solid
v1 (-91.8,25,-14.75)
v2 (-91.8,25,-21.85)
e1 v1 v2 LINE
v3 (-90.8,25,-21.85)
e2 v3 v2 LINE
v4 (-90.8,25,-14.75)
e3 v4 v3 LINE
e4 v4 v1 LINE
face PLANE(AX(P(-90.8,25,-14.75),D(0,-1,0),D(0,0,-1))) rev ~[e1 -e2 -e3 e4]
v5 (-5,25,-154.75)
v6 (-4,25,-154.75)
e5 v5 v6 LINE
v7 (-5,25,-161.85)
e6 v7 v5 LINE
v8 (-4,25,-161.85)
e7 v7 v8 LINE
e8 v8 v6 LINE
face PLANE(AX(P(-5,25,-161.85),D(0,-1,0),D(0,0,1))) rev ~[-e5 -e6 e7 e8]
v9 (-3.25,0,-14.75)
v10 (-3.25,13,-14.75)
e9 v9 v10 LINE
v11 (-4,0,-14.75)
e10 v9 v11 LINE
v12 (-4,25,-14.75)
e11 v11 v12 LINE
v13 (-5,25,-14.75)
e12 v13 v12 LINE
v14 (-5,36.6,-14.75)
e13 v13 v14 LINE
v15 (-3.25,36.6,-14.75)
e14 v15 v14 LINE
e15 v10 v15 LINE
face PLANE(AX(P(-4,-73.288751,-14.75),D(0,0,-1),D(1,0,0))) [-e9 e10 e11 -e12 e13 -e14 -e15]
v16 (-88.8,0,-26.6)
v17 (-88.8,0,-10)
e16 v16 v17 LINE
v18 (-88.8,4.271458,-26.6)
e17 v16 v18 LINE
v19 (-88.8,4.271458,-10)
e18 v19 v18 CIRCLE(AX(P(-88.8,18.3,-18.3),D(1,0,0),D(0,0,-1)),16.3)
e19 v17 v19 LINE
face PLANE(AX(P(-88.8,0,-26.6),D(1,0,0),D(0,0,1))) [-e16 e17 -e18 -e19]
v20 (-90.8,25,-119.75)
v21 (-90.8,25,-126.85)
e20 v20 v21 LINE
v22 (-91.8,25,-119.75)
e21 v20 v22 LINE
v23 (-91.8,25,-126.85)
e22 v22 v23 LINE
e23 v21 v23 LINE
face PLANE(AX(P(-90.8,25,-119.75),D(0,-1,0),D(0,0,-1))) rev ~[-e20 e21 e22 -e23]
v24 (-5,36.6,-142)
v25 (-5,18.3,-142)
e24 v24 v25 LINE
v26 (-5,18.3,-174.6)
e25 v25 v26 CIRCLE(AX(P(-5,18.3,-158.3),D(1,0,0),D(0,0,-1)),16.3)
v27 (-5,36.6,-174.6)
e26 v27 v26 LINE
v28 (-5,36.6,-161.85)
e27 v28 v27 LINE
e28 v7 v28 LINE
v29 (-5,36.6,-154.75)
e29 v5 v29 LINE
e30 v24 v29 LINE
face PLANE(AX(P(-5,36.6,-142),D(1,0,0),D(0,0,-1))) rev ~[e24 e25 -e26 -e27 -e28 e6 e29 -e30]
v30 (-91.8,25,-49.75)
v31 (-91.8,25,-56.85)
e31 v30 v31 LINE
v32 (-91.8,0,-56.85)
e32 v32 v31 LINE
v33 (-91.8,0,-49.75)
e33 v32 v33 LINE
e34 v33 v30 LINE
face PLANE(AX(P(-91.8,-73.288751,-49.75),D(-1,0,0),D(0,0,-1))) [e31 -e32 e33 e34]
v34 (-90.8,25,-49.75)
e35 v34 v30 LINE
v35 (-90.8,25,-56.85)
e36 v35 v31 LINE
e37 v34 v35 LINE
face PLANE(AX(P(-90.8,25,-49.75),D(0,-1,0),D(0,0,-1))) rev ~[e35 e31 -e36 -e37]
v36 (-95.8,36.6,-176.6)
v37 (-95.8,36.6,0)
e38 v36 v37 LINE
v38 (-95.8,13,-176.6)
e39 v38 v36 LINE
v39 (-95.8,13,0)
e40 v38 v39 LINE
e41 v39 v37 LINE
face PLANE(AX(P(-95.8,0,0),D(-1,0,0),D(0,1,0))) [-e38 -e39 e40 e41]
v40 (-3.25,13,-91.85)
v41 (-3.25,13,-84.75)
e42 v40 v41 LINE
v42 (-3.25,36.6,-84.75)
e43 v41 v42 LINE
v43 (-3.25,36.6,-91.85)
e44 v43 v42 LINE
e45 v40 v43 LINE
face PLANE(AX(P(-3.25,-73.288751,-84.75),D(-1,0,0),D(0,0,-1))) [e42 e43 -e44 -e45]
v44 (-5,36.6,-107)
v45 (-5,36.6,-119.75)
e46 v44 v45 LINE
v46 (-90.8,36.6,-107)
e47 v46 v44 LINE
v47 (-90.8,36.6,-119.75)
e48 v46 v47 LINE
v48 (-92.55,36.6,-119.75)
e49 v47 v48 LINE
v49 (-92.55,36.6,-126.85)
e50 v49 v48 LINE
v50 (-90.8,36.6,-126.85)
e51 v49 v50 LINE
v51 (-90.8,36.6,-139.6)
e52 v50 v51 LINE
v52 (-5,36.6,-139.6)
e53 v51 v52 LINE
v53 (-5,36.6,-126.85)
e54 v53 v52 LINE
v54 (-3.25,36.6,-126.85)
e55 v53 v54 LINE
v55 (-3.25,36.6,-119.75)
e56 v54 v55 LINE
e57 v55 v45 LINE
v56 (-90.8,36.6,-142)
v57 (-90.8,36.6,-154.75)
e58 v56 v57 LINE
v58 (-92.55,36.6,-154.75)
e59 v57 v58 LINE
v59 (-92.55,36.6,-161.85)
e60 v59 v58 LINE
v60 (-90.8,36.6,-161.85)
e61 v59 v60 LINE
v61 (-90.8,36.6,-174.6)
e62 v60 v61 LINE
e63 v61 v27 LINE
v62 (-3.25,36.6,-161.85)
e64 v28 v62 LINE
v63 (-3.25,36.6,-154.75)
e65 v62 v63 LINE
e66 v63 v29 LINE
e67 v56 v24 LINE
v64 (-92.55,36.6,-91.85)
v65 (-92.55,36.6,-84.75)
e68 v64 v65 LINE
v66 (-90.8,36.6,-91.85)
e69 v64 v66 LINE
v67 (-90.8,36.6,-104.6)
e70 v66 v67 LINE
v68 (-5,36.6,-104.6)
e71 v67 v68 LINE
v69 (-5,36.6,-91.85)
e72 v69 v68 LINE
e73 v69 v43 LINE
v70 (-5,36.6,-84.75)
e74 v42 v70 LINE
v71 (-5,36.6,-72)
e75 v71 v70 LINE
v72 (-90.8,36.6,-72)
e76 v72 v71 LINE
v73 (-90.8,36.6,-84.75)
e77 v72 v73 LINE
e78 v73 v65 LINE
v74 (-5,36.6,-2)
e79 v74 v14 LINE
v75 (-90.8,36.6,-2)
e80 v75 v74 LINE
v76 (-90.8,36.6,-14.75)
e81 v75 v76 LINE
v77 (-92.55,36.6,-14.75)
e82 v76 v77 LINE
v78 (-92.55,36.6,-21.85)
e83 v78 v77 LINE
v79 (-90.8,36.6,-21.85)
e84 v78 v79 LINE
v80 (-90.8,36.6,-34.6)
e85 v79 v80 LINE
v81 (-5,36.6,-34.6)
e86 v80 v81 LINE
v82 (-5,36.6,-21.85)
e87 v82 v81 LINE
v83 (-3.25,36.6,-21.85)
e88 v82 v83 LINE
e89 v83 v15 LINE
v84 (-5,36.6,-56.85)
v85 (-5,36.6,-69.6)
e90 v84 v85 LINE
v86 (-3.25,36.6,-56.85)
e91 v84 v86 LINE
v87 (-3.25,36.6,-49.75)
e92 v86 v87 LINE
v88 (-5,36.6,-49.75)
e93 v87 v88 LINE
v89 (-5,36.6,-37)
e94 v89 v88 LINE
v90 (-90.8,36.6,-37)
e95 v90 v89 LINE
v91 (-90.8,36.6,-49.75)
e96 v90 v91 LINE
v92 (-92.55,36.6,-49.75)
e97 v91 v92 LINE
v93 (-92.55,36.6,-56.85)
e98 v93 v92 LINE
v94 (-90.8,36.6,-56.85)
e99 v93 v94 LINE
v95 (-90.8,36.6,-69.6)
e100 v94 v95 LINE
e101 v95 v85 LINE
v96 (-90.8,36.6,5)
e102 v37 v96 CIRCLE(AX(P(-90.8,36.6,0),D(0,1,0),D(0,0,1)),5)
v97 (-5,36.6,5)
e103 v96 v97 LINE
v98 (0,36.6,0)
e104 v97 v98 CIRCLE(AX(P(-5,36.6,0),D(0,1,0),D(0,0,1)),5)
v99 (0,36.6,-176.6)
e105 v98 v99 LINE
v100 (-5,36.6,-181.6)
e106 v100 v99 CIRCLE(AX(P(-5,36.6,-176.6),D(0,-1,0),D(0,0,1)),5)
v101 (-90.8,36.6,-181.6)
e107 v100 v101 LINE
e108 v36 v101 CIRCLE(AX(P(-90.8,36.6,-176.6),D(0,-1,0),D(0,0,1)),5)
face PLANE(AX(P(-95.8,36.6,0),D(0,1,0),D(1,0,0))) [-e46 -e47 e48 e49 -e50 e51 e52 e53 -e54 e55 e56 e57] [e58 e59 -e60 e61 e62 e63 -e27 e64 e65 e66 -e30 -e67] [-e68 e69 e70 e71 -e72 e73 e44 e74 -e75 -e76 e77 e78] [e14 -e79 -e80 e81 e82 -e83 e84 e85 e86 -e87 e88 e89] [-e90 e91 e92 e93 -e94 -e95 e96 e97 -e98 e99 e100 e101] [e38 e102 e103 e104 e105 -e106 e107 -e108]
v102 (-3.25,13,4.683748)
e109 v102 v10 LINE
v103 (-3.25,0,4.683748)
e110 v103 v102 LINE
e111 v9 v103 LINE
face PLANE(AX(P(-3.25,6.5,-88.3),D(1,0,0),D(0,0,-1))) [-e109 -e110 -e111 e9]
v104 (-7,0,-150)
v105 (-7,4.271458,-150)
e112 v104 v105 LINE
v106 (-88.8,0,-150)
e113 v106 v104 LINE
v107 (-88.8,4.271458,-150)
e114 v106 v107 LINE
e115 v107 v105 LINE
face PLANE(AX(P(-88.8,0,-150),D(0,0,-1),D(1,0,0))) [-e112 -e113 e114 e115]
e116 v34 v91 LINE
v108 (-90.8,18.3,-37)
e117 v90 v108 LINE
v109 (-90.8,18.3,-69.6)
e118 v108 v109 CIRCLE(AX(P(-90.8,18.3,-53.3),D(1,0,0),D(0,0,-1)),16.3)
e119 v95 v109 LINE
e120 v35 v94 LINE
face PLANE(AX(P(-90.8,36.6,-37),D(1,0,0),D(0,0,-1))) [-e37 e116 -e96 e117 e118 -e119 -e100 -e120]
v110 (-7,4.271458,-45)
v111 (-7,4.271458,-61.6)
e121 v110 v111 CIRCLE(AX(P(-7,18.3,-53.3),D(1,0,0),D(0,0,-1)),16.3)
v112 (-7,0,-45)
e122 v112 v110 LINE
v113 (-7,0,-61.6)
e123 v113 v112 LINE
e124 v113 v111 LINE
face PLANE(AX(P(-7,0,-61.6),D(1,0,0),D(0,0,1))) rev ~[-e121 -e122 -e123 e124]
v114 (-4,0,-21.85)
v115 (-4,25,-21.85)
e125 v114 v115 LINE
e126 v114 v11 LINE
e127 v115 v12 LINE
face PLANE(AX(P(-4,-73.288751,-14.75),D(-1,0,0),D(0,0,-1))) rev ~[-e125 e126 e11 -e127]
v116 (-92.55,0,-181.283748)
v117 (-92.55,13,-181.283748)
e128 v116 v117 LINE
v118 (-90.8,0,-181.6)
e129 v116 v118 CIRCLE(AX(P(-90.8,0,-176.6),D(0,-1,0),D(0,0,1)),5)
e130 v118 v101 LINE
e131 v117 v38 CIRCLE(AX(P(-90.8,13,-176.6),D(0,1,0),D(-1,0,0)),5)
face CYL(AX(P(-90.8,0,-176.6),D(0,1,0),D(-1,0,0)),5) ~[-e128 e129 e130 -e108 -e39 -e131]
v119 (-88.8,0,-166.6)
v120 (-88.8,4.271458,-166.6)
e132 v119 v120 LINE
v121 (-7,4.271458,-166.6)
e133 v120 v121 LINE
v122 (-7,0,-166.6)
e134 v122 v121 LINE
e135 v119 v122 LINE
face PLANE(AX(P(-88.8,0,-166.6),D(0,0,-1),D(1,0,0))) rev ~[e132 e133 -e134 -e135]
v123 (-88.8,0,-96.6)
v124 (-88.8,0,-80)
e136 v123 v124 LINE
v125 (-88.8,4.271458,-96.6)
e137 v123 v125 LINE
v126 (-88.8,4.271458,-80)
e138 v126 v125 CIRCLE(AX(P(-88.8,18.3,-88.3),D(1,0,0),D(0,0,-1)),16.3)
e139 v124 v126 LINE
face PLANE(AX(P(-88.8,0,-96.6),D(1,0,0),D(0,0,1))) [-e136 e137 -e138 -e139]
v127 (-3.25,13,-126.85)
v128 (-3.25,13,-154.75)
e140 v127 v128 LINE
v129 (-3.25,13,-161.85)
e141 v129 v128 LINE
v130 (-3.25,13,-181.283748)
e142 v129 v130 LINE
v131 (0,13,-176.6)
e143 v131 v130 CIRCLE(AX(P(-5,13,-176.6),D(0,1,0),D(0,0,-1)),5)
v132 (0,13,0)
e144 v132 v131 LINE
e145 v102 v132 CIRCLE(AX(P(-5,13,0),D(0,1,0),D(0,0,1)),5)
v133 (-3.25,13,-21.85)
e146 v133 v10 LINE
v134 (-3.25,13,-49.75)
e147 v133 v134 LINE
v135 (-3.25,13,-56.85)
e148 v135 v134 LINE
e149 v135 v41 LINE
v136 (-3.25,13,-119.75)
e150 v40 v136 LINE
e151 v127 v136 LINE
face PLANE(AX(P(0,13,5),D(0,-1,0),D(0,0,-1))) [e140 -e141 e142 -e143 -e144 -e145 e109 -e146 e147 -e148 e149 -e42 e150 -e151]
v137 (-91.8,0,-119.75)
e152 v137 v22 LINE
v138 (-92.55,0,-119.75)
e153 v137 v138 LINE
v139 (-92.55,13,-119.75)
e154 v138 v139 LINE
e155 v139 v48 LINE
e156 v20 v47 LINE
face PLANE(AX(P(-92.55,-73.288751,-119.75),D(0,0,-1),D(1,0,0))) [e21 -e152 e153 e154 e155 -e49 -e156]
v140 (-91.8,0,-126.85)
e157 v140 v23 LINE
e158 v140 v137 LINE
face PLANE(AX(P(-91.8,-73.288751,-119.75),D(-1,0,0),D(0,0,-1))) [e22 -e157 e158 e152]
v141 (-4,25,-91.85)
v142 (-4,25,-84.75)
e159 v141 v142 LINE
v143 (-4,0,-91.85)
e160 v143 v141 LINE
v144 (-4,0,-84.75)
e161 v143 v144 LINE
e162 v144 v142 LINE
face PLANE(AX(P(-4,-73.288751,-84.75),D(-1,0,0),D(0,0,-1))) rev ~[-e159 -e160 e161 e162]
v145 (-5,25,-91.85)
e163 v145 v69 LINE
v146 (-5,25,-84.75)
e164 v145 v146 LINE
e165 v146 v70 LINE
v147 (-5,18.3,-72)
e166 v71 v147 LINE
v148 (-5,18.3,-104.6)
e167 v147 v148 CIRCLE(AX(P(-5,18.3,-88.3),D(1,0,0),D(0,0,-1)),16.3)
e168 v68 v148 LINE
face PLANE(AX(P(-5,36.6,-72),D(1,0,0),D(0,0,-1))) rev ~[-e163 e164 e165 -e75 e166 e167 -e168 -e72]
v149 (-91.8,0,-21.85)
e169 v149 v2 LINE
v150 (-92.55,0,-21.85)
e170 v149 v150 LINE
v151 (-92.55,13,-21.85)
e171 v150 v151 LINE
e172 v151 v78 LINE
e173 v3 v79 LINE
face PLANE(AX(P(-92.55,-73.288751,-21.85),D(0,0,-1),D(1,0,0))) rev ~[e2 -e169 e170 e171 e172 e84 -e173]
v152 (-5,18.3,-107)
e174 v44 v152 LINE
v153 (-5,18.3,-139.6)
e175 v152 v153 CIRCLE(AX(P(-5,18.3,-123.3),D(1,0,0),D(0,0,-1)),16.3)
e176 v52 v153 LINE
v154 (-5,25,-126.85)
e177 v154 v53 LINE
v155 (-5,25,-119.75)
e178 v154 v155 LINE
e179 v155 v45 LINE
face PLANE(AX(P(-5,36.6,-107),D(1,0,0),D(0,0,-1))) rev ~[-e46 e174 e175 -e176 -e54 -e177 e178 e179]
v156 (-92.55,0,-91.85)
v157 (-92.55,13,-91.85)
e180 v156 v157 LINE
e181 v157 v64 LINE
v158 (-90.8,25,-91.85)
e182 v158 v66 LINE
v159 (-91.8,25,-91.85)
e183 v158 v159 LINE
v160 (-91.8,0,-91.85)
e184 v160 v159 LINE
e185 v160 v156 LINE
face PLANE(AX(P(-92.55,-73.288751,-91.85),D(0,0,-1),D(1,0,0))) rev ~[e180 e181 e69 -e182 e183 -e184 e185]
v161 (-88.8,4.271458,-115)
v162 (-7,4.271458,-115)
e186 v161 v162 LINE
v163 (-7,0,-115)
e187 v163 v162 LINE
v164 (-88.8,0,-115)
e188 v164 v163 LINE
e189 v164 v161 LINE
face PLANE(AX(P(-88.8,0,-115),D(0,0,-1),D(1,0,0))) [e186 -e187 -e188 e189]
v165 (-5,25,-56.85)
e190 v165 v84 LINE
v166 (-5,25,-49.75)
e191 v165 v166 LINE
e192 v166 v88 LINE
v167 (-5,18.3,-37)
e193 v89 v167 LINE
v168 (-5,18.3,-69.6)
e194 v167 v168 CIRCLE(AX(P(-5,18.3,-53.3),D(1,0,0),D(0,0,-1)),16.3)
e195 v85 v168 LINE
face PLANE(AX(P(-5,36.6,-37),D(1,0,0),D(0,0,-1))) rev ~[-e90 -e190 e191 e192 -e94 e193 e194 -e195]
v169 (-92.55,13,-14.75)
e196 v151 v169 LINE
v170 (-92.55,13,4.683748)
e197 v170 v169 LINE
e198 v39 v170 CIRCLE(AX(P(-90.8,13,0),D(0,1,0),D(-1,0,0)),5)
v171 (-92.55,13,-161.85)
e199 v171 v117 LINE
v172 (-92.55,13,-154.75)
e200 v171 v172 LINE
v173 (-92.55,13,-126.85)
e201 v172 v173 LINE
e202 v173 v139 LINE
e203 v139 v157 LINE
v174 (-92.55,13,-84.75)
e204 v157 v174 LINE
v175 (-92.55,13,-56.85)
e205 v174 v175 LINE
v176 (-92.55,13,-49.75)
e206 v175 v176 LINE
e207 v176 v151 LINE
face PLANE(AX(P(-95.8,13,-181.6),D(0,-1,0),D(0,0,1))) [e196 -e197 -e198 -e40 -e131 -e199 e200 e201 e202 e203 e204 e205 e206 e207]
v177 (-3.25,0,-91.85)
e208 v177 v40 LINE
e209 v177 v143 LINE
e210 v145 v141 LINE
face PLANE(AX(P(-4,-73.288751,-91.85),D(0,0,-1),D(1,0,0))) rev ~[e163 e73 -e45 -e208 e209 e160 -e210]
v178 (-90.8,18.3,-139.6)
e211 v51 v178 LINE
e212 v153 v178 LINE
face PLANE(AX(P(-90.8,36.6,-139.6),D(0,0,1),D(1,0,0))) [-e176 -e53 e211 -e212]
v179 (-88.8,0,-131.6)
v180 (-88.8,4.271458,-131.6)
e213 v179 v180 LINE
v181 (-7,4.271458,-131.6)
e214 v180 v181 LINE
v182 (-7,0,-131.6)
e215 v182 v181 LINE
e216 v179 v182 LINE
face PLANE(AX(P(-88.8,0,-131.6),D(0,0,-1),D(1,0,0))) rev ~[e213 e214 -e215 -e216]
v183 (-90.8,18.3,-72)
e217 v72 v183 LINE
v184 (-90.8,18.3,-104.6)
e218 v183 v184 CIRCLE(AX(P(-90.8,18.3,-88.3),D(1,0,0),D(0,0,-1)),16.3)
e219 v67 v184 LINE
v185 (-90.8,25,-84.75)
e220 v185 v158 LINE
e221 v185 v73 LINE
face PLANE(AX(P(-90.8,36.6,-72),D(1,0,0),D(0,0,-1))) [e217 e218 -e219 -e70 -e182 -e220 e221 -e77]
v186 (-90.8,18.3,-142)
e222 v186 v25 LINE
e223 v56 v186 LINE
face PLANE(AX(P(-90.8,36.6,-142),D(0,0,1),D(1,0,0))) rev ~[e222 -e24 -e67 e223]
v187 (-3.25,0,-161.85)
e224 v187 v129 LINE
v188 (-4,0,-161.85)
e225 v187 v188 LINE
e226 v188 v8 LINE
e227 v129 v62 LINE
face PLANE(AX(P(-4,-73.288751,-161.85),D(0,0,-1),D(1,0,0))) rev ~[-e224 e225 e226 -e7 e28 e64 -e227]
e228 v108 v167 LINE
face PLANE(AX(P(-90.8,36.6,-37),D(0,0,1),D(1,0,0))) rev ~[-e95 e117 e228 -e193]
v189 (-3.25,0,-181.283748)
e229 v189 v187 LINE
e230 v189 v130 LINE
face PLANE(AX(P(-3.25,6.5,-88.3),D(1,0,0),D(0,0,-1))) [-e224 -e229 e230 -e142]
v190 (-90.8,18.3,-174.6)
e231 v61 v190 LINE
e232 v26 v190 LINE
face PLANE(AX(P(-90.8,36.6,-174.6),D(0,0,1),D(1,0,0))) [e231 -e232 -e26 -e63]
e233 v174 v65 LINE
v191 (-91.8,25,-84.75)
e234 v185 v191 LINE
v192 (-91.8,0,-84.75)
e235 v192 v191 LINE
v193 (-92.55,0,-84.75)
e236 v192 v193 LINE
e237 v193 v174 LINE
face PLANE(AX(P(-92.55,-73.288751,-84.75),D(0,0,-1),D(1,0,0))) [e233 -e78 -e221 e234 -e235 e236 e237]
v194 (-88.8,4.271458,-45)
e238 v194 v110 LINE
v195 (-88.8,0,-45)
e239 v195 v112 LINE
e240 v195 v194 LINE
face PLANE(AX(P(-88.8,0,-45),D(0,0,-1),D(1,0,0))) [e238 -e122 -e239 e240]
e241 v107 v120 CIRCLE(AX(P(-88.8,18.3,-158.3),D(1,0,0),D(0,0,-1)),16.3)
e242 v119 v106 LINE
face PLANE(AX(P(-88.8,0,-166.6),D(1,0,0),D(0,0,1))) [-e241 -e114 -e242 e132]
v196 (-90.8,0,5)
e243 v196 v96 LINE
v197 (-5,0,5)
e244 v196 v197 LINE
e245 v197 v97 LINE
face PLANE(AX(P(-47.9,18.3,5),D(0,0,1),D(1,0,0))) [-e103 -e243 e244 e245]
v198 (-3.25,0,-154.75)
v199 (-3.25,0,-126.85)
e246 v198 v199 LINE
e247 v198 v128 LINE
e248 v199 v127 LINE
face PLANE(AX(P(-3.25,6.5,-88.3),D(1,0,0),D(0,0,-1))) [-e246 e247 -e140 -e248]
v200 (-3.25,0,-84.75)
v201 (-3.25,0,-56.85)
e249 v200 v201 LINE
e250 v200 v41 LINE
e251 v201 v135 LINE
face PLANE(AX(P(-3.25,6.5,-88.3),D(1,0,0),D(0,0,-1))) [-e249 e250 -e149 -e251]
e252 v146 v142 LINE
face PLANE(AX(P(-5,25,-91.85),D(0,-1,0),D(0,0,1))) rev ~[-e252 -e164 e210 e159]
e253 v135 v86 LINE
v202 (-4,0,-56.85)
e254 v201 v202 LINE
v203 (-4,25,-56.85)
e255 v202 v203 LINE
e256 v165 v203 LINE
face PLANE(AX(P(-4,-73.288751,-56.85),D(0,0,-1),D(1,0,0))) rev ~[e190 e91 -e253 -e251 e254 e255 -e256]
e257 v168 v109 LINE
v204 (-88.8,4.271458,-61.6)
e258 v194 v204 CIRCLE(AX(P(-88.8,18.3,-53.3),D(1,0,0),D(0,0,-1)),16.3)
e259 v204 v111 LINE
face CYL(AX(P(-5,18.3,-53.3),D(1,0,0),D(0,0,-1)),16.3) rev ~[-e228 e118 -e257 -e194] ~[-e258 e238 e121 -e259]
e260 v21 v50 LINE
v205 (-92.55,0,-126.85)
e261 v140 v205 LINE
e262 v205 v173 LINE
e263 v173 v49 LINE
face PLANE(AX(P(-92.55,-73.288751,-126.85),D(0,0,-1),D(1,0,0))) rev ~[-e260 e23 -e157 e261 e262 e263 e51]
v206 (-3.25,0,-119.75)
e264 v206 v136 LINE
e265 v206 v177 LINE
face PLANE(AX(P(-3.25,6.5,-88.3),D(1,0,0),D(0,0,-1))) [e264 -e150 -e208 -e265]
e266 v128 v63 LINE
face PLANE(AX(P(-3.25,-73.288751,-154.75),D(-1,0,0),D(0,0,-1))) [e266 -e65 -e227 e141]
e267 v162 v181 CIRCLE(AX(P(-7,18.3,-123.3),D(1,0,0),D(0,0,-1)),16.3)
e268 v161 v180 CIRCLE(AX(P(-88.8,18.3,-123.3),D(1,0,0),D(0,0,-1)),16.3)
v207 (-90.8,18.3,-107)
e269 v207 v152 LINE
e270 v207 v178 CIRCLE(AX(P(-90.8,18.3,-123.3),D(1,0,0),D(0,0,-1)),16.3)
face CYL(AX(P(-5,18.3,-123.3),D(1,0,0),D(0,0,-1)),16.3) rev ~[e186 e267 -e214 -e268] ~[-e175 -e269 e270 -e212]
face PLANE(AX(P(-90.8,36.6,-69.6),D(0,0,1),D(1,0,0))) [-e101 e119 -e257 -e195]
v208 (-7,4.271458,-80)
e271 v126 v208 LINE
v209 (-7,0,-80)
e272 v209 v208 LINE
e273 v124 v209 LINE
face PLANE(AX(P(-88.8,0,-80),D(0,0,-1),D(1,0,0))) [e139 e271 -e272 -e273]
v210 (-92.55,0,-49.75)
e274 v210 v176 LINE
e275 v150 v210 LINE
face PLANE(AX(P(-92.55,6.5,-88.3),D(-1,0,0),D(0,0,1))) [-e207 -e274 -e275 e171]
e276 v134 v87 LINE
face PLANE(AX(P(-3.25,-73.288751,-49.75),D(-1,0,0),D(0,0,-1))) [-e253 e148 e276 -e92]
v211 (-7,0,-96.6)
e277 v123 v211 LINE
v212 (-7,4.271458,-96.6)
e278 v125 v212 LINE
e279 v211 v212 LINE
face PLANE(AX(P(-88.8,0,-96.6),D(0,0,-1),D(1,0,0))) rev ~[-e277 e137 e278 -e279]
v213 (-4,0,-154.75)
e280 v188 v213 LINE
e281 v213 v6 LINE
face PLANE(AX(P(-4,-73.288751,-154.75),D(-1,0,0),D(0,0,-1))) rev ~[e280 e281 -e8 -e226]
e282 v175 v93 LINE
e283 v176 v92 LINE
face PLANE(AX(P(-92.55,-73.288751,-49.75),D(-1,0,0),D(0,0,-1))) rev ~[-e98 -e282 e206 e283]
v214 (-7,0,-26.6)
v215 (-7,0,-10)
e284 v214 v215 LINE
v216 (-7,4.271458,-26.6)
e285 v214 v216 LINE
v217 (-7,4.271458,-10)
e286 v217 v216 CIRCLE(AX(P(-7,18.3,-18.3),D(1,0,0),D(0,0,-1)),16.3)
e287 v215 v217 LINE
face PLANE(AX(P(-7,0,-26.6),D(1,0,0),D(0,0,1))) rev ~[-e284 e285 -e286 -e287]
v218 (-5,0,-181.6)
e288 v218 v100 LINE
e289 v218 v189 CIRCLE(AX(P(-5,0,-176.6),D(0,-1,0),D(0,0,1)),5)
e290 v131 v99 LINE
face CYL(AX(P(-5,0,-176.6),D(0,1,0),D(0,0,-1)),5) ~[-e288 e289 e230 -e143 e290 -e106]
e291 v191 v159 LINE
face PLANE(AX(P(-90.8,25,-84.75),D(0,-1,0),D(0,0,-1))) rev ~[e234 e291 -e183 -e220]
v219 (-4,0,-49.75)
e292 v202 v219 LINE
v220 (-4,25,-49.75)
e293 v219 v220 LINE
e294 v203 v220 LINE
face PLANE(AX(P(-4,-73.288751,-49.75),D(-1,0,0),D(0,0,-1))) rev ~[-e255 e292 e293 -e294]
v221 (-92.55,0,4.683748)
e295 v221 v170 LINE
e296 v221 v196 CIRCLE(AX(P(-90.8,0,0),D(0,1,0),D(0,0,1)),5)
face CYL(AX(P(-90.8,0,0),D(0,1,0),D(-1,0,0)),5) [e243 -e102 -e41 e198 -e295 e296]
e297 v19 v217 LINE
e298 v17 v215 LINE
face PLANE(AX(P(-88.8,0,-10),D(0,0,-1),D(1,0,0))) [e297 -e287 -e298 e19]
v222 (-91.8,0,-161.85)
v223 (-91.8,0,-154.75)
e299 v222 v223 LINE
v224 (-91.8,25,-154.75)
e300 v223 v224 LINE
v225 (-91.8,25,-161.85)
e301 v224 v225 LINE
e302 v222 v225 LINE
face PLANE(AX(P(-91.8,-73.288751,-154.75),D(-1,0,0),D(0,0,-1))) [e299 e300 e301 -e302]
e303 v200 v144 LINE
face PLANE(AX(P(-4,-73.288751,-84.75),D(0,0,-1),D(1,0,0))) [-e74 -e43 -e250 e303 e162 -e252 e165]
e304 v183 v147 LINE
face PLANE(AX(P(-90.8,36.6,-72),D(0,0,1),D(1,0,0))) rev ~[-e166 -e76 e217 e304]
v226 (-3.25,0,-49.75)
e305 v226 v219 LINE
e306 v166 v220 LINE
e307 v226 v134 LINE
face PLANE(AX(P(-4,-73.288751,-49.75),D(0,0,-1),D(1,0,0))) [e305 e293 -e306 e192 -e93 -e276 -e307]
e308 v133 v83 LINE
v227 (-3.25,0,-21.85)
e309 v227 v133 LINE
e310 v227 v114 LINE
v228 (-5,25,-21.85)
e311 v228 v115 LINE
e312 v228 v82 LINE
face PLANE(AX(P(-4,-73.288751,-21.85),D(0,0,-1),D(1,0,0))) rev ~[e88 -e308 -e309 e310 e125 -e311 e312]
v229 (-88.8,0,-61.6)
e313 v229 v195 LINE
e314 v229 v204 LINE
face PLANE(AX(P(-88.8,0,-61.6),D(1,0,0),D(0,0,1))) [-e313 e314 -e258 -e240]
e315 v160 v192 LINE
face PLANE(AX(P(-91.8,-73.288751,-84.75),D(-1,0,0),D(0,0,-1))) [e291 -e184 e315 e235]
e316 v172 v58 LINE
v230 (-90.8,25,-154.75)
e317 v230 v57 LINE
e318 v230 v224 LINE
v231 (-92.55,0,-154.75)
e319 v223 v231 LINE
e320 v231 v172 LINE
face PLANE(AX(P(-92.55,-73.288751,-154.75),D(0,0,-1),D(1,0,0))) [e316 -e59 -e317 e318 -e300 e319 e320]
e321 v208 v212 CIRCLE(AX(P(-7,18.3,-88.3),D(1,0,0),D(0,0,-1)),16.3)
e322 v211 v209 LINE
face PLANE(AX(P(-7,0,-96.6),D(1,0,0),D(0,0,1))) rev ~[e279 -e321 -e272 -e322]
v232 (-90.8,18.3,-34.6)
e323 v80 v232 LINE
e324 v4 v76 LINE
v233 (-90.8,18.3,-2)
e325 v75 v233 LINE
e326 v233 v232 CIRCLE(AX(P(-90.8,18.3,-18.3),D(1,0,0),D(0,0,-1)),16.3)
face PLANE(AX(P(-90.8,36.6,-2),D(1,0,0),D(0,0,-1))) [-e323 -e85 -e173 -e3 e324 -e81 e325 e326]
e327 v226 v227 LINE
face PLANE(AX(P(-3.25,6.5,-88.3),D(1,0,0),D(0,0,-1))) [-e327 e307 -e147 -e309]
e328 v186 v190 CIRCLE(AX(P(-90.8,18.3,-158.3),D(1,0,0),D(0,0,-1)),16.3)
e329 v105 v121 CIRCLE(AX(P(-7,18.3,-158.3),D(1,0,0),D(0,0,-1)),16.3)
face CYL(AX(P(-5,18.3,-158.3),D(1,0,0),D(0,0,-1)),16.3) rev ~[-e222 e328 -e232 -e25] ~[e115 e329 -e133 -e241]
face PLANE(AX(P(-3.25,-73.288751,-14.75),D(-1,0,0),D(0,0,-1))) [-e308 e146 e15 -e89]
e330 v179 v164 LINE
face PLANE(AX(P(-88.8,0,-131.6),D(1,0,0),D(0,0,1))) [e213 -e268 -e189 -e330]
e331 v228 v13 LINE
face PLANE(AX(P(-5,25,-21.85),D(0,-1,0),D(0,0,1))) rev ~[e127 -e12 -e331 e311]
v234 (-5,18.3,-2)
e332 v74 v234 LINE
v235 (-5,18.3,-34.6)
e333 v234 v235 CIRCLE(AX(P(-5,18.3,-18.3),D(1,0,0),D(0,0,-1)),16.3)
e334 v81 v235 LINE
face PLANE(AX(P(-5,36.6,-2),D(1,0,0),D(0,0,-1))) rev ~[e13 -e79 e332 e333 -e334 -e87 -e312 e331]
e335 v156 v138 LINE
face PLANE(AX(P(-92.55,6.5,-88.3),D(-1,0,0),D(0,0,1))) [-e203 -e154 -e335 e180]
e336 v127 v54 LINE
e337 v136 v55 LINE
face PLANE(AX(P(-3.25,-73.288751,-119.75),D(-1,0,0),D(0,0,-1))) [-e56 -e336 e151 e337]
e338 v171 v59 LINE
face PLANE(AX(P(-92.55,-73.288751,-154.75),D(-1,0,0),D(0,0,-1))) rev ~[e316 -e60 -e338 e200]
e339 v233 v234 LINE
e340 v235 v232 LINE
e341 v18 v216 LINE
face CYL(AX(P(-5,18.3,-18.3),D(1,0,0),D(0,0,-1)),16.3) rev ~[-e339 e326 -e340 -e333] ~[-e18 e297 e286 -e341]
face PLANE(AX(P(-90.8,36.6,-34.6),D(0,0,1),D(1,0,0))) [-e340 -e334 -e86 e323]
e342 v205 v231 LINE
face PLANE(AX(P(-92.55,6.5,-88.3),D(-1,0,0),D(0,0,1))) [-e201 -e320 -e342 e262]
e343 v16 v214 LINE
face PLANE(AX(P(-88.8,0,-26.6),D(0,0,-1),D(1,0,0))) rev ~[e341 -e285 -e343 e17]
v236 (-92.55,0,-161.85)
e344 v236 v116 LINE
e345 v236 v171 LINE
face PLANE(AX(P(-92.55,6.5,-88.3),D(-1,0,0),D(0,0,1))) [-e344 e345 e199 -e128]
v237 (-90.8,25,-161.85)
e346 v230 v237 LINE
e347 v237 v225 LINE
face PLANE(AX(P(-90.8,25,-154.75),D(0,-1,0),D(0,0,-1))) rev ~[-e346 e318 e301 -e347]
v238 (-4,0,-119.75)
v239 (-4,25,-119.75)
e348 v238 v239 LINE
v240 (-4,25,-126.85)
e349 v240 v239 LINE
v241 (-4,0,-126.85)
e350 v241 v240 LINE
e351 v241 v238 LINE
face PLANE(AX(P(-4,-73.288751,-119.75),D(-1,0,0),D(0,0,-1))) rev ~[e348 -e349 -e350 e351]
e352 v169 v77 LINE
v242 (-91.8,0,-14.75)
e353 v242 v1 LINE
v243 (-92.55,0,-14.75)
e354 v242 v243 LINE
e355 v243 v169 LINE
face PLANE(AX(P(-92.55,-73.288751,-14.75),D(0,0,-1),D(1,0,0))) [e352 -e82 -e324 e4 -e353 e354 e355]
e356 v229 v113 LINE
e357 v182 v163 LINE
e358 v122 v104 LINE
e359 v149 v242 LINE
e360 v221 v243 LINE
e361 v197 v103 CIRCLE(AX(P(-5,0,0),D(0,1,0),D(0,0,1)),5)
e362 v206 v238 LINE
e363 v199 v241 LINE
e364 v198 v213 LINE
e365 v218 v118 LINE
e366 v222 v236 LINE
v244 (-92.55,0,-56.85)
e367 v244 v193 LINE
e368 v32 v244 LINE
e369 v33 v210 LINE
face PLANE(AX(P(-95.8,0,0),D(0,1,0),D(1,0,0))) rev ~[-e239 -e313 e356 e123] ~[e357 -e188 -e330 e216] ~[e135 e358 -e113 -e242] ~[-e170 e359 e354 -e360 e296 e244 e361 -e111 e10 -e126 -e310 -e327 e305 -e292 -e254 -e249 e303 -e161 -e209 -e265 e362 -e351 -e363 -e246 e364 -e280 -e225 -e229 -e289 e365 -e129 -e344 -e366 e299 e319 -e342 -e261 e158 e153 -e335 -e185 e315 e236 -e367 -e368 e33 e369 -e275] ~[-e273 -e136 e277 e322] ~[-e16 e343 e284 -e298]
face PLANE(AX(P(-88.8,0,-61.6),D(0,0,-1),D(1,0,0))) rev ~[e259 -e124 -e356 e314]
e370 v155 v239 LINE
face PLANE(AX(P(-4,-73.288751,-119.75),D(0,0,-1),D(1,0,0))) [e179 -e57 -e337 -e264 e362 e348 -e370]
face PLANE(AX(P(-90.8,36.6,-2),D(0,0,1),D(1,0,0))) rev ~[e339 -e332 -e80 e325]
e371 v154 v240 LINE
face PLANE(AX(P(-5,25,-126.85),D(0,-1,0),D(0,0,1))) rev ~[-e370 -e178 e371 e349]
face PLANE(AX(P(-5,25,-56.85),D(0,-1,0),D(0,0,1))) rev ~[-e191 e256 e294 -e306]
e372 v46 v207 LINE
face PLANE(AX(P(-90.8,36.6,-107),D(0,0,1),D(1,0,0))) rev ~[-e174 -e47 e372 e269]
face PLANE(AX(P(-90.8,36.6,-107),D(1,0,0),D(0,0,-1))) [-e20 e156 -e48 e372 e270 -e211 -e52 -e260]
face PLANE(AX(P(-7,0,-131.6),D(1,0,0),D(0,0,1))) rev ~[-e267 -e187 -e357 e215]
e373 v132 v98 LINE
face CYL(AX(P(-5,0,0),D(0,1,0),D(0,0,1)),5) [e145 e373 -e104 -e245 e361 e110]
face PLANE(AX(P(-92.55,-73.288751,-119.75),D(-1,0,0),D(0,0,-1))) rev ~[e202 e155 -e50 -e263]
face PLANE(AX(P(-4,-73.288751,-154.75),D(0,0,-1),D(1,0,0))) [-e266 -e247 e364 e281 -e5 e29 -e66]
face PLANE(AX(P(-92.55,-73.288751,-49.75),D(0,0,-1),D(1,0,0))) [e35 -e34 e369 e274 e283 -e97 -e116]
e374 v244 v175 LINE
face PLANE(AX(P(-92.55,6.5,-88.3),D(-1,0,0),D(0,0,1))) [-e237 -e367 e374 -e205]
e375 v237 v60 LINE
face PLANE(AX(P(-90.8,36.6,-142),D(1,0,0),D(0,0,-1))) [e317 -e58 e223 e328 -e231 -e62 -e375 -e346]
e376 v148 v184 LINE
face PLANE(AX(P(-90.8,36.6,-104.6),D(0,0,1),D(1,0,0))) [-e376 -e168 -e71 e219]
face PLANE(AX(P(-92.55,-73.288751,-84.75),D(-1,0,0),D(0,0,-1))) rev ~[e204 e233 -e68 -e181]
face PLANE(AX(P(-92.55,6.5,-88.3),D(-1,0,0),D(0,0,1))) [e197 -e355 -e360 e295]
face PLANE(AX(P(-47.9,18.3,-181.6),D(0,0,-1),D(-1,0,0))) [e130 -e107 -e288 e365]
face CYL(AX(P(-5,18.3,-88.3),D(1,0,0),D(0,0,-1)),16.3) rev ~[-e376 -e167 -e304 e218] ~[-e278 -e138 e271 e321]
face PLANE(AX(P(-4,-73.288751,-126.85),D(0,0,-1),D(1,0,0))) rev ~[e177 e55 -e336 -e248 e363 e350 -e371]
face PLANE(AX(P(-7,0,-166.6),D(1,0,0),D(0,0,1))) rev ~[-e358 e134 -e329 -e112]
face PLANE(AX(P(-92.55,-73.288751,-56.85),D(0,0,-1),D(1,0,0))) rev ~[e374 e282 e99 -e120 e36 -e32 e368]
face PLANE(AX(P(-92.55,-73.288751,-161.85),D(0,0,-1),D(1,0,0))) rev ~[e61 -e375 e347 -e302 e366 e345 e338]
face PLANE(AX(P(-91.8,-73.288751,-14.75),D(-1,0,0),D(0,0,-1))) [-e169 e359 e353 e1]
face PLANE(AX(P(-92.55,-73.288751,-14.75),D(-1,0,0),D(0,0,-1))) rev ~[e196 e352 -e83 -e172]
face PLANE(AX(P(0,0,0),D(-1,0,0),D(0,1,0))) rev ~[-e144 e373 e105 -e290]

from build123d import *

# Parameters (mm, degrees)
SKETCH_241_W                = 95.8
SKETCH_241_H                = 36.6
EXTRUDE_326_DEPTH           = 36.6
CUT_EXTRUDE_START           = -5
SKETCH_380_R                = 16.3
CUT_EXTRUDE_539_DEPTH       = 85.8
SKETCH_588_W                = 85.8
SKETCH_588_H                = 32.6
CUT_EXTRUDE_850_DEPTH       = 18.3
CUT_EXTRUDE_1245_DEPTH      = 109.888750567
CUT_EXTRUDE_1245_DEPTH_BACK = 109.888750567
SKETCH_902_W                = 0.75
SKETCH_902_H                = 7.1
SKETCH_A_W                  = 7.1
SKETCH_A_H                  = 11.6
CUT_EXTRUDE_A_DEPTH         = 1
SKETCH_B_W                  = 7.1
SKETCH_B_H                  = 11.6
CUT_EXTRUDE_B_DEPTH         = 1
SKETCH_1779_W               = 81.8
SKETCH_1779_H               = 16.6
CUT_EXTRUDE_2059_DEPTH      = 109.888750567
SKETCH_2105_W               = 3.25
SKETCH_2105_H               = 13.1
CUT_EXTRUDE_2527_DEPTH      = 13
PATTERN_LINEAR_2584_COUNT   = 5
PATTERN_LINEAR_2584_PITCH   = 35
SKETCH_2694_W               = 95.8
SKETCH_2694_H               = 36.6
EXTRUDE_2884_DEPTH          = 5
SKETCH_2964_W               = 95.8
SKETCH_2964_H               = 36.6
EXTRUDE_3079_DEPTH          = 5
FILLET_1_R                  = 5
FILLET_2_R                  = 5
FILLET_3_R                  = 5
FILLET_4_R                  = 5
SKETCH_3561_W               = 186.6
SKETCH_3561_H               = 13
CUT_EXTRUDE_3822_DEPTH      = 3.25
SKETCH_4173_W               = 186.6
SKETCH_4173_H               = 13
CUT_EXTRUDE_4352_DEPTH      = 3.25


with BuildPart() as part:
    # Sketch 241 → Extrude 326 (new body)
    with BuildSketch(Plane(origin=(0, 0, 0), x_dir=(1, 0, 0), z_dir=(0, 1, 0))):
        with Locations((-47.9, 18.3)):
            Rectangle(SKETCH_241_W, SKETCH_241_H)
    extrude(amount=EXTRUDE_326_DEPTH)

    # Sketch 380 → Cut-Extrude 539 (cut)
    with BuildSketch(Plane(origin=(0, 0, 0), x_dir=(0, 0, -1), z_dir=(1, 0, 0)).offset(CUT_EXTRUDE_START)):
        with Locations((18.3, 18.3)):
            Circle(SKETCH_380_R)
    extrude(amount=-CUT_EXTRUDE_539_DEPTH, mode=Mode.SUBTRACT)

    # Sketch 588 → Cut-Extrude 850 (cut)
    with BuildSketch(Plane(origin=(0, 36.6, 0), x_dir=(1, 0, 0), z_dir=(0, 1, 0))):
        with Locations((-47.9, 18.3)):
            Rectangle(SKETCH_588_W, SKETCH_588_H)
    extrude(amount=-CUT_EXTRUDE_850_DEPTH, mode=Mode.SUBTRACT)

    # Sketch 902 → Cut-Extrude 1245 (cut, two sides: drawn at the far end of the back side and taken through both)
    with BuildSketch(Plane(origin=(0, 36.6, 0), x_dir=(1, 0, 0), z_dir=(0, 1, 0)).offset(-CUT_EXTRUDE_1245_DEPTH_BACK)):
        with Locations((-92.175, 18.3)):
            Rectangle(SKETCH_902_W, SKETCH_902_H)
        with Locations((-3.625, 18.3)):
            Rectangle(SKETCH_902_W, SKETCH_902_H)
    extrude(amount=CUT_EXTRUDE_1245_DEPTH + CUT_EXTRUDE_1245_DEPTH_BACK, mode=Mode.SUBTRACT)

    # 触点开窗面A → 触点开窗A (cut)
    with BuildSketch(Plane(origin=(-90.8, 0, 0), x_dir=(0, 0, -1), z_dir=(1, 0, 0))):
        with Locations((18.3, 30.8)):
            Rectangle(SKETCH_A_W, SKETCH_A_H)
    extrude(amount=-CUT_EXTRUDE_A_DEPTH, mode=Mode.SUBTRACT)

    # 触点开窗面B → 触点开窗B (cut)
    with BuildSketch(Plane.ZY.offset(5)):
        with Locations((-18.3, 30.8)):
            Rectangle(SKETCH_B_W, SKETCH_B_H)
    extrude(amount=-CUT_EXTRUDE_B_DEPTH, mode=Mode.SUBTRACT)

    # Sketch 1779 → Cut-Extrude 2059 (cut, through all)
    with BuildSketch(Plane.XZ):
        with Locations((-47.9, -18.3)):
            Rectangle(SKETCH_1779_W, SKETCH_1779_H)
    extrude(amount=-CUT_EXTRUDE_2059_DEPTH, mode=Mode.SUBTRACT)

    # Sketch 2105 → Cut-Extrude 2527 (cut)
    with BuildSketch(Plane.XZ):
        with Locations((-94.175, -18.3)):
            Rectangle(SKETCH_2105_W, SKETCH_2105_H)
        with Locations((-1.625, -18.3)):
            Rectangle(SKETCH_2105_W, SKETCH_2105_H)
    extrude(amount=-CUT_EXTRUDE_2527_DEPTH, mode=Mode.SUBTRACT)


with BuildPart() as pattern_linear_2584_1:
    # Pattern Linear 2584: pattern copy
    add(part.part.moved(Location(Vector(0, 0, -1) * (1 * PATTERN_LINEAR_2584_PITCH))))


with BuildPart() as pattern_linear_2584_2:
    # Pattern Linear 2584: pattern copy
    add(part.part.moved(Location(Vector(0, 0, -1) * (2 * PATTERN_LINEAR_2584_PITCH))))


with BuildPart() as pattern_linear_2584_3:
    # Pattern Linear 2584: pattern copy
    add(part.part.moved(Location(Vector(0, 0, -1) * (3 * PATTERN_LINEAR_2584_PITCH))))


with BuildPart() as pattern_linear_2584_4:
    # Pattern Linear 2584: pattern copy
    add(part.part.moved(Location(Vector(0, 0, -1) * (4 * PATTERN_LINEAR_2584_PITCH))))

    # Sketch 2694 → Extrude 2884 (add)
    with BuildSketch(Plane(origin=(0, 0, -176.6), x_dir=(-1, 0, 0), z_dir=(0, 0, -1))):
        with Locations((47.9, 18.3)):
            Rectangle(SKETCH_2694_W, SKETCH_2694_H)
    extrude(amount=EXTRUDE_2884_DEPTH)

    # 圆角3
    fillet_3_edges = [pattern_linear_2584_4.edges().sort_by_distance(p)[0] for p in [
        (-95.8, 18.3, -181.6),
    ]]
    fillet(fillet_3_edges, radius=FILLET_3_R)

    # 圆角4
    fillet_4_edges = [pattern_linear_2584_4.edges().sort_by_distance(p)[0] for p in [
        (0, 18.3, -181.6),
    ]]
    fillet(fillet_4_edges, radius=FILLET_4_R)


with BuildPart() as part_1:
    add(part.part)

    # Sketch 2964 → Extrude 3079 (add)
    with BuildSketch(Plane.XY):
        with Locations((-47.9, 18.3)):
            Rectangle(SKETCH_2964_W, SKETCH_2964_H)
    extrude(amount=EXTRUDE_3079_DEPTH)

    # 圆角1
    fillet_1_edges = [part_1.edges().sort_by_distance(p)[0] for p in [
        (-95.8, 18.3, 5),
    ]]
    fillet(fillet_1_edges, radius=FILLET_1_R)

    # 圆角2
    fillet_2_edges = [part_1.edges().sort_by_distance(p)[0] for p in [
        (0, 18.3, 5),
    ]]
    fillet(fillet_2_edges, radius=FILLET_2_R)


with BuildPart() as cut_extrude_3822_tool:
    # Sketch 3561 → Cut-Extrude 3822 (new body)
    with BuildSketch(Plane.ZY.offset(95.8)):
        with Locations((-88.3, 6.5)):
            Rectangle(SKETCH_3561_W, SKETCH_3561_H)
    extrude(amount=-CUT_EXTRUDE_3822_DEPTH)


with BuildPart() as part_2:
    add(part_1.part)

    # Cut-Extrude 3822: cut by cut_extrude_3822_tool
    add(cut_extrude_3822_tool.part, mode=Mode.SUBTRACT)


with BuildPart() as pattern_linear_2584_1_1:
    add(pattern_linear_2584_1.part)

    # Cut-Extrude 3822: cut by cut_extrude_3822_tool
    add(cut_extrude_3822_tool.part, mode=Mode.SUBTRACT)


with BuildPart() as pattern_linear_2584_2_1:
    add(pattern_linear_2584_2.part)

    # Cut-Extrude 3822: cut by cut_extrude_3822_tool
    add(cut_extrude_3822_tool.part, mode=Mode.SUBTRACT)


with BuildPart() as pattern_linear_2584_3_1:
    add(pattern_linear_2584_3.part)

    # Cut-Extrude 3822: cut by cut_extrude_3822_tool
    add(cut_extrude_3822_tool.part, mode=Mode.SUBTRACT)


with BuildPart() as pattern_linear_2584_4_1:
    add(pattern_linear_2584_4.part)

    # Cut-Extrude 3822: cut by cut_extrude_3822_tool
    add(cut_extrude_3822_tool.part, mode=Mode.SUBTRACT)


with BuildPart() as cut_extrude_4352_tool:
    # Sketch 4173 → Cut-Extrude 4352 (new body)
    with BuildSketch(Plane(origin=(0, 0, 0), x_dir=(0, 0, -1), z_dir=(1, 0, 0))):
        with Locations((88.3, 6.5)):
            Rectangle(SKETCH_4173_W, SKETCH_4173_H)
    extrude(amount=-CUT_EXTRUDE_4352_DEPTH)


with BuildPart() as part_3:
    add(part_2.part)

    # Cut-Extrude 4352: cut by cut_extrude_4352_tool
    add(cut_extrude_4352_tool.part, mode=Mode.SUBTRACT)


with BuildPart() as pattern_linear_2584_1_2:
    add(pattern_linear_2584_1_1.part)

    # Cut-Extrude 4352: cut by cut_extrude_4352_tool
    add(cut_extrude_4352_tool.part, mode=Mode.SUBTRACT)


with BuildPart() as pattern_linear_2584_2_2:
    add(pattern_linear_2584_2_1.part)

    # Cut-Extrude 4352: cut by cut_extrude_4352_tool
    add(cut_extrude_4352_tool.part, mode=Mode.SUBTRACT)


with BuildPart() as pattern_linear_2584_3_2:
    add(pattern_linear_2584_3_1.part)

    # Cut-Extrude 4352: cut by cut_extrude_4352_tool
    add(cut_extrude_4352_tool.part, mode=Mode.SUBTRACT)


with BuildPart() as pattern_linear_2584_4_2:
    add(pattern_linear_2584_4_1.part)

    # Cut-Extrude 4352: cut by cut_extrude_4352_tool
    add(cut_extrude_4352_tool.part, mode=Mode.SUBTRACT)


with BuildPart() as pattern_linear_2584_1_3:
    add(pattern_linear_2584_1_2.part)

    # Combine 5S: union Pattern Linear 2584_2, Pattern Linear 2584_3, Pattern Linear 2584_4, part
    add(pattern_linear_2584_2_2.part)
    add(pattern_linear_2584_3_2.part)
    add(pattern_linear_2584_4_2.part)
    add(part_3.part)


solid = pattern_linear_2584_1_3.part
